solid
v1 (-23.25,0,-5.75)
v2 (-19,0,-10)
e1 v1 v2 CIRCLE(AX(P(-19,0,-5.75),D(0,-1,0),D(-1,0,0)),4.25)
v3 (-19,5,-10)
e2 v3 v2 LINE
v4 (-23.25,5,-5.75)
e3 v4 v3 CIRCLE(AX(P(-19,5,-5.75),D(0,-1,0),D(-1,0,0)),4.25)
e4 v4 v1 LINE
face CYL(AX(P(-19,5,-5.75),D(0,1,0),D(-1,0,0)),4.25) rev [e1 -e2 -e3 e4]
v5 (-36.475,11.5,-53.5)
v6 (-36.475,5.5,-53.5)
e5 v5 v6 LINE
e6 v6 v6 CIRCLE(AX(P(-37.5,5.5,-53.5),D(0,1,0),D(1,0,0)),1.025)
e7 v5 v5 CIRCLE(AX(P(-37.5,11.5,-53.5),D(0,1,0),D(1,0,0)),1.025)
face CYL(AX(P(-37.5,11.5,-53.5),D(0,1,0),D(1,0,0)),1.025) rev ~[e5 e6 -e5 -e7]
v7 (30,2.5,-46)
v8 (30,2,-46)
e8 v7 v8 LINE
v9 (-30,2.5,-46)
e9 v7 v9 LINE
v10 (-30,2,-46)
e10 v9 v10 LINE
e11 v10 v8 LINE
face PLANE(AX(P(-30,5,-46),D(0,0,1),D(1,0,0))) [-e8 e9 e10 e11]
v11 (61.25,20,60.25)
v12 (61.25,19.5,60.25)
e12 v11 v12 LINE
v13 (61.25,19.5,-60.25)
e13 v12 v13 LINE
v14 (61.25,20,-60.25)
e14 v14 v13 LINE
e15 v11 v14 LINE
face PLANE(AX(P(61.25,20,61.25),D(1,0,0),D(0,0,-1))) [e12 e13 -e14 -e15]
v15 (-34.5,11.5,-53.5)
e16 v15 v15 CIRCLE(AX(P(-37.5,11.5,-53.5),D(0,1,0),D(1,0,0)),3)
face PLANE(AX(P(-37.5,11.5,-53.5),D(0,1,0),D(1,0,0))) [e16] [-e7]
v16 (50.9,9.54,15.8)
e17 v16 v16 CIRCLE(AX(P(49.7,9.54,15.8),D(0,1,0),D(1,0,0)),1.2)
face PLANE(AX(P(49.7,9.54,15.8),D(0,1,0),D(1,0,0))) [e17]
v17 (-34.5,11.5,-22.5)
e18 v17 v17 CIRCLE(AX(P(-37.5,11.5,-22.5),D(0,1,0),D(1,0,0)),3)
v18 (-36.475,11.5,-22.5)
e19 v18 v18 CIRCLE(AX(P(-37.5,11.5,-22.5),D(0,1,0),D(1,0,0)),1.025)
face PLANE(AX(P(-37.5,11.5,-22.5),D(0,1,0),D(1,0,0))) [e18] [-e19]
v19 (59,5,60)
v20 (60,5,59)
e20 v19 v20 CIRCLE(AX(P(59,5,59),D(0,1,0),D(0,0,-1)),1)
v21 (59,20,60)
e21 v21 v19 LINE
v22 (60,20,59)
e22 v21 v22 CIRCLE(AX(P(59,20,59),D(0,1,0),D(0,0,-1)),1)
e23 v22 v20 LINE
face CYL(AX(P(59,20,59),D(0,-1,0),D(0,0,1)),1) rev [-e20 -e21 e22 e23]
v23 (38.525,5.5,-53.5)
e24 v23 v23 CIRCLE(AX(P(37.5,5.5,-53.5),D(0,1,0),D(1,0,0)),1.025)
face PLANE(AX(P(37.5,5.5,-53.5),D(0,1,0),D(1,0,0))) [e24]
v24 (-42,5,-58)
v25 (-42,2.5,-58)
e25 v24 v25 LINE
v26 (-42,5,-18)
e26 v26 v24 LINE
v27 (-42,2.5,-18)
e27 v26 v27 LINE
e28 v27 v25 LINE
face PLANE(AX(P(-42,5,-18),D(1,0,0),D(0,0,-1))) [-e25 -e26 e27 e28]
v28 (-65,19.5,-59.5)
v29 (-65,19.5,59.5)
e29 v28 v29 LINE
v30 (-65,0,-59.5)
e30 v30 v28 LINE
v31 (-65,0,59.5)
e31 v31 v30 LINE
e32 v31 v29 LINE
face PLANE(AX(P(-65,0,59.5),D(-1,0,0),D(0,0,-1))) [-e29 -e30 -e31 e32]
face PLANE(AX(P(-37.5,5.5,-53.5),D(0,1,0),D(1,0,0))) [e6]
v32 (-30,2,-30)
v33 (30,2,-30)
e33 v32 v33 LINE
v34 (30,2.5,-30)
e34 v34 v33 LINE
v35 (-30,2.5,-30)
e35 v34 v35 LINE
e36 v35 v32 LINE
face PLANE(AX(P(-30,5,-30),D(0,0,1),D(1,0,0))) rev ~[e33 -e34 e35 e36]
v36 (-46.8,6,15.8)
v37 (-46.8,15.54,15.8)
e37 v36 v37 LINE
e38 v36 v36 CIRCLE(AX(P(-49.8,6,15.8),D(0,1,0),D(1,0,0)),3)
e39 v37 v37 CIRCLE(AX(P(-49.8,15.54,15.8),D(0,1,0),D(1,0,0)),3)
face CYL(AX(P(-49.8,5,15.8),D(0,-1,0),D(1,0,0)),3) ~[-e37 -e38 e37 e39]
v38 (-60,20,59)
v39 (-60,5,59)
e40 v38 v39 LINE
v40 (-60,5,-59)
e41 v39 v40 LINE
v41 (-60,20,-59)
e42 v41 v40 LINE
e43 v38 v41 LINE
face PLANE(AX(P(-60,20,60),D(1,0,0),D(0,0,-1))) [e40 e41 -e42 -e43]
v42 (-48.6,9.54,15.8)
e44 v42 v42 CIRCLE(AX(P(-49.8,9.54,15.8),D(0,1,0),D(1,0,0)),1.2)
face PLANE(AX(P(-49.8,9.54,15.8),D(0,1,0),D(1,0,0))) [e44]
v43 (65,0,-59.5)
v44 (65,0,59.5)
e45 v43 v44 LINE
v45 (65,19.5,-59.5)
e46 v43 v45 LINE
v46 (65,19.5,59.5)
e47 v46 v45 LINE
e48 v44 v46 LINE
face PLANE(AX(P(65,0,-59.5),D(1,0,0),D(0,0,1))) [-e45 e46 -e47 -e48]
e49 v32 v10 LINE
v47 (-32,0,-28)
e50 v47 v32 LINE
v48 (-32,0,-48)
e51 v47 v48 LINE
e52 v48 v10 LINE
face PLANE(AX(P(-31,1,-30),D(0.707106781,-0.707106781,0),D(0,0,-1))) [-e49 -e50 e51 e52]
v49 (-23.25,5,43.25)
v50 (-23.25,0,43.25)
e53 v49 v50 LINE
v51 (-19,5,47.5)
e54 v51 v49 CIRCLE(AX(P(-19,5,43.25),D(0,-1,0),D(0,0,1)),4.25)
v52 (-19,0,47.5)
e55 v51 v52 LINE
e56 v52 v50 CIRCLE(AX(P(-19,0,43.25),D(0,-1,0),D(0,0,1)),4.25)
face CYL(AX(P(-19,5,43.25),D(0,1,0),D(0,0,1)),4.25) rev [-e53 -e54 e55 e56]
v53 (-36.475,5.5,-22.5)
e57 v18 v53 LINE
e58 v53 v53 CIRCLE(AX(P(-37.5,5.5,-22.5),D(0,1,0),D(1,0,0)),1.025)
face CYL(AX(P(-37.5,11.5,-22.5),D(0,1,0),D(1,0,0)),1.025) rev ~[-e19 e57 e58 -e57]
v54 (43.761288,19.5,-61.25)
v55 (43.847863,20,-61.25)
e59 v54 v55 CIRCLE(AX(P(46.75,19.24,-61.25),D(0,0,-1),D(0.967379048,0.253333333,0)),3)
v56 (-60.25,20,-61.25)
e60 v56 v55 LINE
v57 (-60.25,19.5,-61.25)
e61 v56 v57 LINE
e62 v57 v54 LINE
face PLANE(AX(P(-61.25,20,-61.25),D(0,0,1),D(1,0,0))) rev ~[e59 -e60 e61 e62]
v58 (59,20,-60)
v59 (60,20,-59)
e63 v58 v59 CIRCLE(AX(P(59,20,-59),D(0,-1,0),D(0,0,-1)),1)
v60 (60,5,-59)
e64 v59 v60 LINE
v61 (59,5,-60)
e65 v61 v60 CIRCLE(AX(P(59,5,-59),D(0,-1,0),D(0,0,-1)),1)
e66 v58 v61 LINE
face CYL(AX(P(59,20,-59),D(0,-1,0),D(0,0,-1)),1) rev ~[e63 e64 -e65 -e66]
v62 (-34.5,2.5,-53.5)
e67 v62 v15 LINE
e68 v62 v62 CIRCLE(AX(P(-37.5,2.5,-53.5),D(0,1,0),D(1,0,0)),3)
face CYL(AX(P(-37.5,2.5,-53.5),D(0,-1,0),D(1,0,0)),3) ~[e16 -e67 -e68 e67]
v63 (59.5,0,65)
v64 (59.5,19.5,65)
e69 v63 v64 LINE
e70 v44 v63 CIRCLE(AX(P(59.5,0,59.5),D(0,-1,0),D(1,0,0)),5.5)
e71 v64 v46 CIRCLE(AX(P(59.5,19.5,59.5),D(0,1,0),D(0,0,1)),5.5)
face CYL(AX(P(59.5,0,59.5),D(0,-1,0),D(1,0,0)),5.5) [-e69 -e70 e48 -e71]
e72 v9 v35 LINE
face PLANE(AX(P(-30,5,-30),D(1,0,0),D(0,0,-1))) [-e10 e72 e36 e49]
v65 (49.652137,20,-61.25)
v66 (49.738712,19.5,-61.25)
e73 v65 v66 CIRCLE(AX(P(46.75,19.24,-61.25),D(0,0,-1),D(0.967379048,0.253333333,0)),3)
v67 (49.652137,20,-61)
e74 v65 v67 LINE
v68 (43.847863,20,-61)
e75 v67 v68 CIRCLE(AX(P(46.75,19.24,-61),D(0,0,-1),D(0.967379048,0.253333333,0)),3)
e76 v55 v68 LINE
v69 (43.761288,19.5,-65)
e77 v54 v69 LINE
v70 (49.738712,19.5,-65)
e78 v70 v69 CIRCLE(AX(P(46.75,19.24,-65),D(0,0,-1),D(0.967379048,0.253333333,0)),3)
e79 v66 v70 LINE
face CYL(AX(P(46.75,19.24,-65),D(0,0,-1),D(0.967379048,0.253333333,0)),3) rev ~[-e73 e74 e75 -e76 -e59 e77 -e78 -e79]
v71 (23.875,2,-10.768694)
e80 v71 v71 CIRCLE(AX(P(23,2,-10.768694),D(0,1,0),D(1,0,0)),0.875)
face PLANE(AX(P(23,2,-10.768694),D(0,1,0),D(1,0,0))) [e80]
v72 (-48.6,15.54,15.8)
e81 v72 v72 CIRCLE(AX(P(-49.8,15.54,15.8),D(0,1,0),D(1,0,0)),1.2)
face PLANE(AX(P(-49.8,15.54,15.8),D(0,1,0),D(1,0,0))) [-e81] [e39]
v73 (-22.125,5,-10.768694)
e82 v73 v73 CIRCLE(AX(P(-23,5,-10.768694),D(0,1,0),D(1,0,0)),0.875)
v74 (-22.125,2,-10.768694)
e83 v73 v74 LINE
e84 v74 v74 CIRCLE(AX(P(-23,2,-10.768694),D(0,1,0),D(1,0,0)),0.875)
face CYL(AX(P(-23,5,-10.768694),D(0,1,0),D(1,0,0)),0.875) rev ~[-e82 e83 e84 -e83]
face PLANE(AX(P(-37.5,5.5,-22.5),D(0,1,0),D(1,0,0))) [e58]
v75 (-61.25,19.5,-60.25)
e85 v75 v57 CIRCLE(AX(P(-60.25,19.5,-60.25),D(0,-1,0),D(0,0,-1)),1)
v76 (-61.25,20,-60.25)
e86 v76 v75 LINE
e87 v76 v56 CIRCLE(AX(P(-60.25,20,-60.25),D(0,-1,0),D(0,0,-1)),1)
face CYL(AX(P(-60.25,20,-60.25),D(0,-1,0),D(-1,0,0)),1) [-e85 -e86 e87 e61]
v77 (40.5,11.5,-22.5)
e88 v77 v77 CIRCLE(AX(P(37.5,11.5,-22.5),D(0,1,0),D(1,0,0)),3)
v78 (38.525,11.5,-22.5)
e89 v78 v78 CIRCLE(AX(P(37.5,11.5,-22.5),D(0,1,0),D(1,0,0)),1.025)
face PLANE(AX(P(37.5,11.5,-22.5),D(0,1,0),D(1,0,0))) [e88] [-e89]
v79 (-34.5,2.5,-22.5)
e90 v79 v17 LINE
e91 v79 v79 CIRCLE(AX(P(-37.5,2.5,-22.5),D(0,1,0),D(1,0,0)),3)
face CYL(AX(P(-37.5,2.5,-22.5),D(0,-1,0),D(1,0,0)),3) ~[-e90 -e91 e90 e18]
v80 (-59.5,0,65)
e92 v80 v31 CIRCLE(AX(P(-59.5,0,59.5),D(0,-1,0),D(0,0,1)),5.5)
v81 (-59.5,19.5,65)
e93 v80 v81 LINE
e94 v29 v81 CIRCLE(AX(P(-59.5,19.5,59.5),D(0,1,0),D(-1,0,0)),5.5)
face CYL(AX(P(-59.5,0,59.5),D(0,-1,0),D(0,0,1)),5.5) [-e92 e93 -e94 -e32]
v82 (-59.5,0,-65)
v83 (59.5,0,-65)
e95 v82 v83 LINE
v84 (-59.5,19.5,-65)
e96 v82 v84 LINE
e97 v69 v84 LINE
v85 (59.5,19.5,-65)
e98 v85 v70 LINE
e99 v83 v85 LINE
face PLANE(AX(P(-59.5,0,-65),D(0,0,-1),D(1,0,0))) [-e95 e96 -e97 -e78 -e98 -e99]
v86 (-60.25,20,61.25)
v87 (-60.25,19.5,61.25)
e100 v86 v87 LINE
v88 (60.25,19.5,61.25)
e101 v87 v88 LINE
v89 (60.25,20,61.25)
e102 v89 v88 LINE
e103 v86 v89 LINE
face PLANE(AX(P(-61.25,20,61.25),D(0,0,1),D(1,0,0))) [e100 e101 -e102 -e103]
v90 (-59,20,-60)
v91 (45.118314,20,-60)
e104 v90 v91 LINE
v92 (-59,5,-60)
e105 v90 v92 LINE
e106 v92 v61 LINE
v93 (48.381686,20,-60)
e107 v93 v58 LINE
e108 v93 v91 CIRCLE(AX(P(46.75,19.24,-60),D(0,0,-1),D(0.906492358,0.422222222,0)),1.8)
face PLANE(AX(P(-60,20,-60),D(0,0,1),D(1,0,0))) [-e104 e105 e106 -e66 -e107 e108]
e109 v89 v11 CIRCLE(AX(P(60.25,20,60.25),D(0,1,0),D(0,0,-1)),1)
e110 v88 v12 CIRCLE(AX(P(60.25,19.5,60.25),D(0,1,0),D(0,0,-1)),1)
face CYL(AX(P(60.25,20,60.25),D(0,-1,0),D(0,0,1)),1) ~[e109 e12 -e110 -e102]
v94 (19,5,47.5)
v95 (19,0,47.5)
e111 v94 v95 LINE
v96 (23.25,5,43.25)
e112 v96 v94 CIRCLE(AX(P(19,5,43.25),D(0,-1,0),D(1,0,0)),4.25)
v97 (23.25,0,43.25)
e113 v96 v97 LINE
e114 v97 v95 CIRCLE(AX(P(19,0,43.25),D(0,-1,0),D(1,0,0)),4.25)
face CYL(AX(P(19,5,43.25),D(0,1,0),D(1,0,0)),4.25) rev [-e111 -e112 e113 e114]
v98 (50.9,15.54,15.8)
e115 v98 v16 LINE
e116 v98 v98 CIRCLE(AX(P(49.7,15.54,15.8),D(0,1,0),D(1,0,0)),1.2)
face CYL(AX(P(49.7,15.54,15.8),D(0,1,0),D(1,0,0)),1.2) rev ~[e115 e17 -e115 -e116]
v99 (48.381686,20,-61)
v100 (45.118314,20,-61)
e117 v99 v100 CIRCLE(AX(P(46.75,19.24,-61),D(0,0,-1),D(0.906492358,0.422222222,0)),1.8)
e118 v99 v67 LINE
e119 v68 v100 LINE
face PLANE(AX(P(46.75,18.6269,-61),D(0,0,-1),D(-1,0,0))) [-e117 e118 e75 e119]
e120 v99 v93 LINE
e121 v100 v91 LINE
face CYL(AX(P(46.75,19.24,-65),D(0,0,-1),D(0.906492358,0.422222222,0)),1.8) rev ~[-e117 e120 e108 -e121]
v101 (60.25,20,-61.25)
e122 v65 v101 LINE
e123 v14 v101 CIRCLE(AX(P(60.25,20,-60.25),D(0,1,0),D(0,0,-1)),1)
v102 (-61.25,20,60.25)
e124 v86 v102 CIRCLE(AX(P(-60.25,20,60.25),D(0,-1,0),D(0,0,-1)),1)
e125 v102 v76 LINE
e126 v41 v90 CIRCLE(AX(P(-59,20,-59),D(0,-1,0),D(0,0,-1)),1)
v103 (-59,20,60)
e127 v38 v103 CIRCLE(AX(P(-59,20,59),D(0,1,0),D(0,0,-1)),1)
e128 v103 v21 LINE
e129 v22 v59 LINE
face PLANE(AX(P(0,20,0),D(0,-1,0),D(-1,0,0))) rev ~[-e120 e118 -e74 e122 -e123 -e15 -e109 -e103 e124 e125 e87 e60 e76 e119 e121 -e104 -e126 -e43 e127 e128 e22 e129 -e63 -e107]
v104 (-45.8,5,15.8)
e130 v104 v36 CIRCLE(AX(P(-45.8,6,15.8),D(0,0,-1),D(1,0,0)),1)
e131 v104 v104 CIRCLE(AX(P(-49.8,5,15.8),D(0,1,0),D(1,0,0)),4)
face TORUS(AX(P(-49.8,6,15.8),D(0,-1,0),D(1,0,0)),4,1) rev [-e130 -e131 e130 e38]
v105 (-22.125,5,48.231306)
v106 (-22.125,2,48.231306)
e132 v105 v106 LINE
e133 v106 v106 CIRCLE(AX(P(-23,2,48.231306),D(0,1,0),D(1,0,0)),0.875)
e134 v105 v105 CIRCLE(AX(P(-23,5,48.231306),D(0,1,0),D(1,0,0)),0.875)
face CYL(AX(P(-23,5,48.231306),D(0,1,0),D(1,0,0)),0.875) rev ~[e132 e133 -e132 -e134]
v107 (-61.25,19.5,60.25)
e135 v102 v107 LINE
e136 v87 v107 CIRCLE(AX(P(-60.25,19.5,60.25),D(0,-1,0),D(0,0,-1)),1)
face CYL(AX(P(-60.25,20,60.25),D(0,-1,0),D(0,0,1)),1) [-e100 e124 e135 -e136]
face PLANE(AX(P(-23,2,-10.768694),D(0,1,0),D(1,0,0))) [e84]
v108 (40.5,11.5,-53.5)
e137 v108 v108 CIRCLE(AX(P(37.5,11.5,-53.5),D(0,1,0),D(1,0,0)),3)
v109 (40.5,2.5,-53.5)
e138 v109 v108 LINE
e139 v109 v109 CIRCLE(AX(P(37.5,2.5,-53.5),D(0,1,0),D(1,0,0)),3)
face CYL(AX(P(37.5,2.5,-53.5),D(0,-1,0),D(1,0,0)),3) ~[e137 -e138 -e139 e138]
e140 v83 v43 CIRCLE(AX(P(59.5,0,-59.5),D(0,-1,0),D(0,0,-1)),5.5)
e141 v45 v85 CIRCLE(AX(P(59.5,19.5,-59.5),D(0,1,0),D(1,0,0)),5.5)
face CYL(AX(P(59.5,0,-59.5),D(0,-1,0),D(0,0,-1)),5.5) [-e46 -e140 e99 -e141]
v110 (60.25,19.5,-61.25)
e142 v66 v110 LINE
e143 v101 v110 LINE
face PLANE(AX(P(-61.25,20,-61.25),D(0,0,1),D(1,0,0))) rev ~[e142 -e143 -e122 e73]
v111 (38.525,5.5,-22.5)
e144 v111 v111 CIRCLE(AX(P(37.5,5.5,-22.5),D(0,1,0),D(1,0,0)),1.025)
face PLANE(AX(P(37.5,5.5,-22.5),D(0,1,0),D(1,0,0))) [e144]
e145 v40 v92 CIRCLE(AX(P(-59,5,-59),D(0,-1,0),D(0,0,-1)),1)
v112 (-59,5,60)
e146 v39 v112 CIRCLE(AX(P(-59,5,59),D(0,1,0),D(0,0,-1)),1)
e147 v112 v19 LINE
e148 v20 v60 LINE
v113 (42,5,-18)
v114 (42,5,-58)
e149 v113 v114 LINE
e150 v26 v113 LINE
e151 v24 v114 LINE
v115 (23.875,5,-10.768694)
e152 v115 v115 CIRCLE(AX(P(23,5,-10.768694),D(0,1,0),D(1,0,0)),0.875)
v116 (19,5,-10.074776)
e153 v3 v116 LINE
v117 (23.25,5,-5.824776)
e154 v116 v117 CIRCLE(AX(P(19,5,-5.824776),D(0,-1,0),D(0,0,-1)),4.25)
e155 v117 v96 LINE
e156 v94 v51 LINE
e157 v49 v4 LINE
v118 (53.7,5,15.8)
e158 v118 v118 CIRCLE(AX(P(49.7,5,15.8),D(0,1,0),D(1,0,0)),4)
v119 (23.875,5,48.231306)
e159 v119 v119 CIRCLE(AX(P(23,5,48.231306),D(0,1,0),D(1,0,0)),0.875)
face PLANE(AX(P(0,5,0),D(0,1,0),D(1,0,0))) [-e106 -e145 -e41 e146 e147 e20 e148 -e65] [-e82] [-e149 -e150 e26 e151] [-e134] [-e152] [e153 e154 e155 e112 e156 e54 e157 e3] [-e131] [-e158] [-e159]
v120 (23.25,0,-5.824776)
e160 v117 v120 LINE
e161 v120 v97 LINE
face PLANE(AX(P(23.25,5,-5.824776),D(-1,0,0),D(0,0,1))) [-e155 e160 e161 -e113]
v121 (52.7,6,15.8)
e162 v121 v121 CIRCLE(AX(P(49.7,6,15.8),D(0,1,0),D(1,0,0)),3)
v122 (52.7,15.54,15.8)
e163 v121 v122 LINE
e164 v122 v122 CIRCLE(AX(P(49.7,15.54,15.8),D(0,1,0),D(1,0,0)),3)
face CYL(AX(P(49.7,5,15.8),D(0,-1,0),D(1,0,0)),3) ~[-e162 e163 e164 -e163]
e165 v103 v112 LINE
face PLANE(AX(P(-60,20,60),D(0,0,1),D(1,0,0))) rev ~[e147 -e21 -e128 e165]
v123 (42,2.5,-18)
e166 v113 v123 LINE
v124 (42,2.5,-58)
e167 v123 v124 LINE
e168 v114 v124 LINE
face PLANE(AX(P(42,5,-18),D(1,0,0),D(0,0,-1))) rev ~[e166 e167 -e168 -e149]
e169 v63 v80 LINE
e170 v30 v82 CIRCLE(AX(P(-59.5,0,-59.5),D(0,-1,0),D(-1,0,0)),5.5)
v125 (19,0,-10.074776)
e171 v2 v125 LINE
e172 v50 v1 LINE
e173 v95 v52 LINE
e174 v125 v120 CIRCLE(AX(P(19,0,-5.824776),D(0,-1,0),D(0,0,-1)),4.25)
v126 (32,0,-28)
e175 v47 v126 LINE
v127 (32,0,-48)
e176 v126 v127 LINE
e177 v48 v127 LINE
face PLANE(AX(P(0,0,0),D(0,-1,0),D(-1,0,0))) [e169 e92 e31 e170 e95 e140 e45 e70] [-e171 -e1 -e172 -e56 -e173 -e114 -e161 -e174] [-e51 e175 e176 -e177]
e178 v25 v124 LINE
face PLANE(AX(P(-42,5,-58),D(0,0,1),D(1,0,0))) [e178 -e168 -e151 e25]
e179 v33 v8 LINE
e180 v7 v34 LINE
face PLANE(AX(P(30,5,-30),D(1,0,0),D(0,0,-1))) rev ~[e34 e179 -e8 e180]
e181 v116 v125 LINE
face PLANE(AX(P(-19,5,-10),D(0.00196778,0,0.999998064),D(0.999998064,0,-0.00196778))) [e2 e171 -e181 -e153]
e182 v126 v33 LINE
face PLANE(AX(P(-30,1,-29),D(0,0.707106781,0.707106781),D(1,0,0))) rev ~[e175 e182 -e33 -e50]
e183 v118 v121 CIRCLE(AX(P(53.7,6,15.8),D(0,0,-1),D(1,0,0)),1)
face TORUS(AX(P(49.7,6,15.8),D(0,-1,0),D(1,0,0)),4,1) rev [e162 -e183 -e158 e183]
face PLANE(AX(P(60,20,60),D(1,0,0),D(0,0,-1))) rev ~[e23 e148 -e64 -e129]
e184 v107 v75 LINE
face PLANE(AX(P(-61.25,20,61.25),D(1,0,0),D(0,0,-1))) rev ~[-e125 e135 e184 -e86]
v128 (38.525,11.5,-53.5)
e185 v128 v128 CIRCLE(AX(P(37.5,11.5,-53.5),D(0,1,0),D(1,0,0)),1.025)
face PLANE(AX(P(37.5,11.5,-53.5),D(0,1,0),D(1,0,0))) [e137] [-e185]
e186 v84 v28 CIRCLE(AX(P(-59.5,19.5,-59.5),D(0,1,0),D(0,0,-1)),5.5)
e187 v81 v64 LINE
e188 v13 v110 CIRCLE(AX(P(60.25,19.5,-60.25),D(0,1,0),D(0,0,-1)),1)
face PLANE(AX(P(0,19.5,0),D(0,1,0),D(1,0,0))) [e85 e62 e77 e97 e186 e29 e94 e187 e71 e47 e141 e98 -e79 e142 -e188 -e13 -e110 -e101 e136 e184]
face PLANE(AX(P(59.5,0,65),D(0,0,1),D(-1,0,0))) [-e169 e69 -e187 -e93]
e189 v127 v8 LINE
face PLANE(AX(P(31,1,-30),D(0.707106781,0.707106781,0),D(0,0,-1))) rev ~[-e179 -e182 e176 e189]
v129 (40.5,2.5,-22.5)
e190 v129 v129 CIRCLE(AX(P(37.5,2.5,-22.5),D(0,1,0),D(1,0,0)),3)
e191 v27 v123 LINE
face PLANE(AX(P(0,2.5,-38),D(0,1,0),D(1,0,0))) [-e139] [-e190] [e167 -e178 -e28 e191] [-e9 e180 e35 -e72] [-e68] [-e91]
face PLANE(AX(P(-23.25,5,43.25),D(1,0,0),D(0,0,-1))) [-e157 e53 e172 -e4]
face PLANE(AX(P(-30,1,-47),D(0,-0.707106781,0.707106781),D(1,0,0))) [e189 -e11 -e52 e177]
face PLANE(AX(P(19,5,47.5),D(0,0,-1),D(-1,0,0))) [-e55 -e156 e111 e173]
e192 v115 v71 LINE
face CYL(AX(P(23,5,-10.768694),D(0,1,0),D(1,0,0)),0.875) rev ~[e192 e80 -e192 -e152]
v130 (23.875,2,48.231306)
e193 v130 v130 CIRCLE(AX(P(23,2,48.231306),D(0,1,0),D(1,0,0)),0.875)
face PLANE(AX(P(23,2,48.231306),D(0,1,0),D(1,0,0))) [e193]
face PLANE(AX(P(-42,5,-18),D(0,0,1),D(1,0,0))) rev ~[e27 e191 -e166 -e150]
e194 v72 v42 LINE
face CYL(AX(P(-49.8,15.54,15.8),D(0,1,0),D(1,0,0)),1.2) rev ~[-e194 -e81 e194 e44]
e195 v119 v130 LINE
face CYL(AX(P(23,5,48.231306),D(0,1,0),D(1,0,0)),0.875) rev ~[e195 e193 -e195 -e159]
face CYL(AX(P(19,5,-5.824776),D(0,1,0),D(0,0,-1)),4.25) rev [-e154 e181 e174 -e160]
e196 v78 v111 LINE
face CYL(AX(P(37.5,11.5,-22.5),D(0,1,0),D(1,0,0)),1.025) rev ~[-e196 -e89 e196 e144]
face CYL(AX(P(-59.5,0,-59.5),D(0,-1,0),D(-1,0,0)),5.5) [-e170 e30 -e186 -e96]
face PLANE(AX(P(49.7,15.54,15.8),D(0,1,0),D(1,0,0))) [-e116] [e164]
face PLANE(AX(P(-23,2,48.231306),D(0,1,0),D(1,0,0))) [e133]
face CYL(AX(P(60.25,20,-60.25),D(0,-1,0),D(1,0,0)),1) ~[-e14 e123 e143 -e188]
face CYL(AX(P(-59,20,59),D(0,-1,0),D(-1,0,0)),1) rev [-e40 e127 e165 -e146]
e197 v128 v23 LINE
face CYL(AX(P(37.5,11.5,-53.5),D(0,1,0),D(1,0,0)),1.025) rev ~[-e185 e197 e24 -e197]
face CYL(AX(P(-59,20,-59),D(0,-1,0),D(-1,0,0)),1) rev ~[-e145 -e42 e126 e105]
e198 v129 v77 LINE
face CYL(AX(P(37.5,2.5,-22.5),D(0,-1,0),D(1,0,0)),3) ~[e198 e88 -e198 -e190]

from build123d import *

# Parameters (mm, degrees)
BOSS_EXTRUDE2_DEPTH = 20
SKETCH5_W           = 120
SKETCH5_H           = 120
CUT_EXTRUDE1_DEPTH  = 15
FILLET2_R           = 1
FILLET3_R           = 1
FILLET4_R           = 1
FILLET5_R           = 1
CUT_EXTRUDE2_DEPTH  = 5
SKETCH8_W           = 60
SKETCH8_H           = 16
CUT_EXTRUDE5_DEPTH  = 5
SKETCH9_W           = 84
SKETCH9_H           = 40
CUT_EXTRUDE6_DEPTH  = 2.5
SKETCH10_R          = 3
BOSS_EXTRUDE3_DEPTH = 9
CHAMFER1_SIZE       = 2
CUT_EXTRUDE11_DEPTH = 5
CUT_EXTRUDE12_DEPTH = 4
SKETCH17_R          = 3
BOSS_EXTRUDE4_DEPTH = 10.54
SKETCH20_W          = 122.5
SKETCH20_H          = 122.5
CUT_EXTRUDE15_DEPTH = 0.5
FILLET7_R           = 1
FILLET8_R           = 1
FILLET9_R           = 1
FILLET10_R          = 1
SKETCH19_R          = 1.2
CUT_EXTRUDE20_DEPTH = 6
SKETCH18_R          = 1.2
CUT_EXTRUDE21_DEPTH = 6
SKETCH11_R          = 1.025
CUT_EXTRUDE22_DEPTH = 6
SKETCH13_R          = 1.025
CUT_EXTRUDE23_DEPTH = 6
SKETCH12_R          = 1.025
CUT_EXTRUDE24_DEPTH = 6
SKETCH14_R          = 1.025
CUT_EXTRUDE25_DEPTH = 6
SKETCH24_R          = 0.875
CUT_EXTRUDE28_DEPTH = 3
FILLET11_R          = 1
FILLET12_R          = 1


with BuildPart() as part:
    # Sketch4 → Boss-Extrude2 (new body)
    with BuildSketch(Plane(origin=(0, 0, 0), x_dir=(1, 0, 0), z_dir=(0, 1, 0))):
        with BuildLine():
            Line((-59.5, 65), (59.5, 65))
            ThreePointArc((59.5, 65), (63.389087297, 63.389087297), (65, 59.5))
            Line((65, 59.5), (65, -59.5))
            ThreePointArc((65, -59.5), (63.389087297, -63.389087297), (59.5, -65))
            Line((59.5, -65), (-59.5, -65))
            ThreePointArc((-59.5, -65), (-63.389087297, -63.389087297), (-65, -59.5))
            Line((-65, -59.5), (-65, 59.5))
            ThreePointArc((-65, 59.5), (-63.389087297, 63.389087297), (-59.5, 65))
        make_face()
    extrude(amount=BOSS_EXTRUDE2_DEPTH)

    # Sketch5 → Cut-Extrude1 (cut)
    with BuildSketch(Plane(origin=(0, 20, 0), x_dir=(1, 0, 0), z_dir=(0, 1, 0))):
        Rectangle(SKETCH5_W, SKETCH5_H)
    extrude(amount=-CUT_EXTRUDE1_DEPTH, mode=Mode.SUBTRACT)

    # Fillet2
    fillet2_edges = [part.edges().sort_by_distance(p)[0] for p in [
        (-60, 12.5, -60),
    ]]
    fillet(fillet2_edges, radius=FILLET2_R)

    # Fillet3
    fillet3_edges = [part.edges().sort_by_distance(p)[0] for p in [
        (60, 12.5, -60),
    ]]
    fillet(fillet3_edges, radius=FILLET3_R)

    # Fillet4
    fillet4_edges = [part.edges().sort_by_distance(p)[0] for p in [
        (-60, 12.5, 60),
    ]]
    fillet(fillet4_edges, radius=FILLET4_R)

    # Fillet5
    fillet5_edges = [part.edges().sort_by_distance(p)[0] for p in [
        (60, 12.5, 60),
    ]]
    fillet(fillet5_edges, radius=FILLET5_R)

    # Sketch6 → Cut-Extrude2 (cut)
    with BuildSketch(Plane(origin=(0, 5, 0), x_dir=(1, 0, 0), z_dir=(0, 1, 0))):
        with BuildLine():
            Line((-19, 10), (19, 10.074775785))
            ThreePointArc((19, 10.074775785), (22.00520382, 8.829979605), (23.25, 5.824775785))
            Line((23.25, 5.824775785), (23.25, -43.25))
            ThreePointArc((23.25, -43.25), (22.00520382, -46.25520382), (19, -47.5))
            Line((19, -47.5), (-19, -47.5))
            ThreePointArc((-19, -47.5), (-22.00520382, -46.25520382), (-23.25, -43.25))
            Line((-23.25, -43.25), (-23.25, 5.75))
            ThreePointArc((-23.25, 5.75), (-22.00520382, 8.75520382), (-19, 10))
        make_face()
    extrude(amount=-CUT_EXTRUDE2_DEPTH, mode=Mode.SUBTRACT)

    # Sketch8 → Cut-Extrude5 (cut)
    with BuildSketch(Plane(origin=(0, 5, 0), x_dir=(1, 0, 0), z_dir=(0, 1, 0))):
        with Locations((0, 38)):
            Rectangle(SKETCH8_W, SKETCH8_H)
    extrude(amount=-CUT_EXTRUDE5_DEPTH, mode=Mode.SUBTRACT)

    # Sketch9 → Cut-Extrude6 (cut)
    with BuildSketch(Plane(origin=(0, 5, 0), x_dir=(1, 0, 0), z_dir=(0, 1, 0))):
        with Locations((0, 38)):
            Rectangle(SKETCH9_W, SKETCH9_H)
    extrude(amount=-CUT_EXTRUDE6_DEPTH, mode=Mode.SUBTRACT)

    # Sketch10 → Boss-Extrude3 (add)
    with BuildSketch(Plane(origin=(0, 2.5, 0), x_dir=(1, 0, 0), z_dir=(0, 1, 0))):
        with Locations((37.5, 53.5)):
            Circle(SKETCH10_R)
        with Locations((-37.5, 53.5)):
            Circle(SKETCH10_R)
        with Locations((-37.5, 22.5)):
            Circle(SKETCH10_R)
        with Locations((37.5, 22.5)):
            Circle(SKETCH10_R)
    extrude(amount=BOSS_EXTRUDE3_DEPTH)

    # Chamfer1
    chamfer1_edges = [part.edges().sort_by_distance(p)[0] for p in [
        (30, 0, -38),
        (0, 0, -30),
        (-30, 0, -38),
        (0, 0, -46),
    ]]
    chamfer(chamfer1_edges, length=CHAMFER1_SIZE)

    # Sketch15 → Cut-Extrude11 (cut)
    with BuildSketch(Plane(origin=(0, 0, -65), x_dir=(-1, 0, 0), z_dir=(0, 0, -1))):
        with BuildLine():
            Line((-45.118313756, 20), (-48.381686244, 20))
            ThreePointArc((-48.381686244, 20), (-46.75, 17.44), (-45.118313756, 20))
        make_face()
    extrude(amount=-CUT_EXTRUDE11_DEPTH, mode=Mode.SUBTRACT)

    # Sketch16 → Cut-Extrude12 (cut)
    with BuildSketch(Plane(origin=(0, 0, -65), x_dir=(-1, 0, 0), z_dir=(0, 0, -1))):
        with BuildLine():
            Line((-43.847862856, 20), (-49.652137144, 20))
            ThreePointArc((-49.652137144, 20), (-46.75, 16.24), (-43.847862856, 20))
        make_face()
    extrude(amount=-CUT_EXTRUDE12_DEPTH, mode=Mode.SUBTRACT)

    # Sketch17 → Boss-Extrude4 (add)
    with BuildSketch(Plane(origin=(0, 5, 0), x_dir=(1, 0, 0), z_dir=(0, 1, 0))):
        with Locations((49.7, -15.8)):
            Circle(SKETCH17_R)
        with Locations((-49.8, -15.8)):
            Circle(SKETCH17_R)
    extrude(amount=BOSS_EXTRUDE4_DEPTH)

    # Sketch20 → Cut-Extrude15 (cut)
    with BuildSketch(Plane(origin=(0, 20, 0), x_dir=(1, 0, 0), z_dir=(0, 1, 0))):
        with BuildLine():
            Line((-59.5, -65), (59.5, -65))
            ThreePointArc((59.5, -65), (63.389087297, -63.389087297), (65, -59.5))
            Line((65, -59.5), (65, 59.5))
            ThreePointArc((65, 59.5), (63.389087297, 63.389087297), (59.5, 65))
            Line((59.5, 65), (-59.5, 65))
            ThreePointArc((-59.5, 65), (-63.389087297, 63.389087297), (-65, 59.5))
            Line((-65, 59.5), (-65, -59.5))
            ThreePointArc((-65, -59.5), (-63.389087297, -63.389087297), (-59.5, -65))
        make_face()
        Rectangle(SKETCH20_W, SKETCH20_H, mode=Mode.SUBTRACT)
    extrude(amount=-CUT_EXTRUDE15_DEPTH, mode=Mode.SUBTRACT)

    # Fillet7
    fillet7_edges = [part.edges().sort_by_distance(p)[0] for p in [
        (61.25, 19.75, 61.25),
    ]]
    fillet(fillet7_edges, radius=FILLET7_R)

    # Fillet8
    fillet8_edges = [part.edges().sort_by_distance(p)[0] for p in [
        (-61.25, 19.75, 61.25),
    ]]
    fillet(fillet8_edges, radius=FILLET8_R)

    # Fillet9
    fillet9_edges = [part.edges().sort_by_distance(p)[0] for p in [
        (-61.25, 19.75, -61.25),
    ]]
    fillet(fillet9_edges, radius=FILLET9_R)

    # Fillet10
    fillet10_edges = [part.edges().sort_by_distance(p)[0] for p in [
        (61.25, 19.75, -61.25),
    ]]
    fillet(fillet10_edges, radius=FILLET10_R)

    # Sketch19 → Cut-Extrude20 (cut)
    with BuildSketch(Plane(origin=(0, 15.54, 0), x_dir=(1, 0, 0), z_dir=(0, 1, 0))):
        with Locations((49.7, -15.8)):
            Circle(SKETCH19_R)
    extrude(amount=-CUT_EXTRUDE20_DEPTH, mode=Mode.SUBTRACT)

    # Sketch18 → Cut-Extrude21 (cut)
    with BuildSketch(Plane(origin=(0, 15.54, 0), x_dir=(1, 0, 0), z_dir=(0, 1, 0))):
        with Locations((-49.8, -15.8)):
            Circle(SKETCH18_R)
    extrude(amount=-CUT_EXTRUDE21_DEPTH, mode=Mode.SUBTRACT)

    # Sketch11 → Cut-Extrude22 (cut)
    with BuildSketch(Plane(origin=(0, 11.5, 0), x_dir=(1, 0, 0), z_dir=(0, 1, 0))):
        with Locations((-37.5, 53.5)):
            Circle(SKETCH11_R)
    extrude(amount=-CUT_EXTRUDE22_DEPTH, mode=Mode.SUBTRACT)

    # Sketch13 → Cut-Extrude23 (cut)
    with BuildSketch(Plane(origin=(0, 11.5, 0), x_dir=(1, 0, 0), z_dir=(0, 1, 0))):
        with Locations((37.5, 53.5)):
            Circle(SKETCH13_R)
    extrude(amount=-CUT_EXTRUDE23_DEPTH, mode=Mode.SUBTRACT)

    # Sketch12 → Cut-Extrude24 (cut)
    with BuildSketch(Plane(origin=(0, 11.5, 0), x_dir=(1, 0, 0), z_dir=(0, 1, 0))):
        with Locations((-37.5, 22.5)):
            Circle(SKETCH12_R)
    extrude(amount=-CUT_EXTRUDE24_DEPTH, mode=Mode.SUBTRACT)

    # Sketch14 → Cut-Extrude25 (cut)
    with BuildSketch(Plane(origin=(0, 11.5, 0), x_dir=(1, 0, 0), z_dir=(0, 1, 0))):
        with Locations((37.5, 22.5)):
            Circle(SKETCH14_R)
    extrude(amount=-CUT_EXTRUDE25_DEPTH, mode=Mode.SUBTRACT)

    # Sketch24 → Cut-Extrude28 (cut)
    with BuildSketch(Plane(origin=(0, 5, 0), x_dir=(1, 0, 0), z_dir=(0, 1, 0))):
        with Locations((23, 10.768693946)):
            Circle(SKETCH24_R)
        with Locations((-23, 10.768693946)):
            Circle(SKETCH24_R)
        with Locations((-23, -48.231306054)):
            Circle(SKETCH24_R)
        with Locations((23, -48.231306054)):
            Circle(SKETCH24_R)
    extrude(amount=-CUT_EXTRUDE28_DEPTH, mode=Mode.SUBTRACT)

    # Fillet11
    fillet11_edges = [part.edges().sort_by_distance(p)[0] for p in [
        (-52.8, 5, 15.8),
    ]]
    fillet(fillet11_edges, radius=FILLET11_R)

    # Fillet12
    fillet12_edges = [part.edges().sort_by_distance(p)[0] for p in [
        (46.7, 5, 15.8),
    ]]
    fillet(fillet12_edges, radius=FILLET12_R)


solid = part.part
